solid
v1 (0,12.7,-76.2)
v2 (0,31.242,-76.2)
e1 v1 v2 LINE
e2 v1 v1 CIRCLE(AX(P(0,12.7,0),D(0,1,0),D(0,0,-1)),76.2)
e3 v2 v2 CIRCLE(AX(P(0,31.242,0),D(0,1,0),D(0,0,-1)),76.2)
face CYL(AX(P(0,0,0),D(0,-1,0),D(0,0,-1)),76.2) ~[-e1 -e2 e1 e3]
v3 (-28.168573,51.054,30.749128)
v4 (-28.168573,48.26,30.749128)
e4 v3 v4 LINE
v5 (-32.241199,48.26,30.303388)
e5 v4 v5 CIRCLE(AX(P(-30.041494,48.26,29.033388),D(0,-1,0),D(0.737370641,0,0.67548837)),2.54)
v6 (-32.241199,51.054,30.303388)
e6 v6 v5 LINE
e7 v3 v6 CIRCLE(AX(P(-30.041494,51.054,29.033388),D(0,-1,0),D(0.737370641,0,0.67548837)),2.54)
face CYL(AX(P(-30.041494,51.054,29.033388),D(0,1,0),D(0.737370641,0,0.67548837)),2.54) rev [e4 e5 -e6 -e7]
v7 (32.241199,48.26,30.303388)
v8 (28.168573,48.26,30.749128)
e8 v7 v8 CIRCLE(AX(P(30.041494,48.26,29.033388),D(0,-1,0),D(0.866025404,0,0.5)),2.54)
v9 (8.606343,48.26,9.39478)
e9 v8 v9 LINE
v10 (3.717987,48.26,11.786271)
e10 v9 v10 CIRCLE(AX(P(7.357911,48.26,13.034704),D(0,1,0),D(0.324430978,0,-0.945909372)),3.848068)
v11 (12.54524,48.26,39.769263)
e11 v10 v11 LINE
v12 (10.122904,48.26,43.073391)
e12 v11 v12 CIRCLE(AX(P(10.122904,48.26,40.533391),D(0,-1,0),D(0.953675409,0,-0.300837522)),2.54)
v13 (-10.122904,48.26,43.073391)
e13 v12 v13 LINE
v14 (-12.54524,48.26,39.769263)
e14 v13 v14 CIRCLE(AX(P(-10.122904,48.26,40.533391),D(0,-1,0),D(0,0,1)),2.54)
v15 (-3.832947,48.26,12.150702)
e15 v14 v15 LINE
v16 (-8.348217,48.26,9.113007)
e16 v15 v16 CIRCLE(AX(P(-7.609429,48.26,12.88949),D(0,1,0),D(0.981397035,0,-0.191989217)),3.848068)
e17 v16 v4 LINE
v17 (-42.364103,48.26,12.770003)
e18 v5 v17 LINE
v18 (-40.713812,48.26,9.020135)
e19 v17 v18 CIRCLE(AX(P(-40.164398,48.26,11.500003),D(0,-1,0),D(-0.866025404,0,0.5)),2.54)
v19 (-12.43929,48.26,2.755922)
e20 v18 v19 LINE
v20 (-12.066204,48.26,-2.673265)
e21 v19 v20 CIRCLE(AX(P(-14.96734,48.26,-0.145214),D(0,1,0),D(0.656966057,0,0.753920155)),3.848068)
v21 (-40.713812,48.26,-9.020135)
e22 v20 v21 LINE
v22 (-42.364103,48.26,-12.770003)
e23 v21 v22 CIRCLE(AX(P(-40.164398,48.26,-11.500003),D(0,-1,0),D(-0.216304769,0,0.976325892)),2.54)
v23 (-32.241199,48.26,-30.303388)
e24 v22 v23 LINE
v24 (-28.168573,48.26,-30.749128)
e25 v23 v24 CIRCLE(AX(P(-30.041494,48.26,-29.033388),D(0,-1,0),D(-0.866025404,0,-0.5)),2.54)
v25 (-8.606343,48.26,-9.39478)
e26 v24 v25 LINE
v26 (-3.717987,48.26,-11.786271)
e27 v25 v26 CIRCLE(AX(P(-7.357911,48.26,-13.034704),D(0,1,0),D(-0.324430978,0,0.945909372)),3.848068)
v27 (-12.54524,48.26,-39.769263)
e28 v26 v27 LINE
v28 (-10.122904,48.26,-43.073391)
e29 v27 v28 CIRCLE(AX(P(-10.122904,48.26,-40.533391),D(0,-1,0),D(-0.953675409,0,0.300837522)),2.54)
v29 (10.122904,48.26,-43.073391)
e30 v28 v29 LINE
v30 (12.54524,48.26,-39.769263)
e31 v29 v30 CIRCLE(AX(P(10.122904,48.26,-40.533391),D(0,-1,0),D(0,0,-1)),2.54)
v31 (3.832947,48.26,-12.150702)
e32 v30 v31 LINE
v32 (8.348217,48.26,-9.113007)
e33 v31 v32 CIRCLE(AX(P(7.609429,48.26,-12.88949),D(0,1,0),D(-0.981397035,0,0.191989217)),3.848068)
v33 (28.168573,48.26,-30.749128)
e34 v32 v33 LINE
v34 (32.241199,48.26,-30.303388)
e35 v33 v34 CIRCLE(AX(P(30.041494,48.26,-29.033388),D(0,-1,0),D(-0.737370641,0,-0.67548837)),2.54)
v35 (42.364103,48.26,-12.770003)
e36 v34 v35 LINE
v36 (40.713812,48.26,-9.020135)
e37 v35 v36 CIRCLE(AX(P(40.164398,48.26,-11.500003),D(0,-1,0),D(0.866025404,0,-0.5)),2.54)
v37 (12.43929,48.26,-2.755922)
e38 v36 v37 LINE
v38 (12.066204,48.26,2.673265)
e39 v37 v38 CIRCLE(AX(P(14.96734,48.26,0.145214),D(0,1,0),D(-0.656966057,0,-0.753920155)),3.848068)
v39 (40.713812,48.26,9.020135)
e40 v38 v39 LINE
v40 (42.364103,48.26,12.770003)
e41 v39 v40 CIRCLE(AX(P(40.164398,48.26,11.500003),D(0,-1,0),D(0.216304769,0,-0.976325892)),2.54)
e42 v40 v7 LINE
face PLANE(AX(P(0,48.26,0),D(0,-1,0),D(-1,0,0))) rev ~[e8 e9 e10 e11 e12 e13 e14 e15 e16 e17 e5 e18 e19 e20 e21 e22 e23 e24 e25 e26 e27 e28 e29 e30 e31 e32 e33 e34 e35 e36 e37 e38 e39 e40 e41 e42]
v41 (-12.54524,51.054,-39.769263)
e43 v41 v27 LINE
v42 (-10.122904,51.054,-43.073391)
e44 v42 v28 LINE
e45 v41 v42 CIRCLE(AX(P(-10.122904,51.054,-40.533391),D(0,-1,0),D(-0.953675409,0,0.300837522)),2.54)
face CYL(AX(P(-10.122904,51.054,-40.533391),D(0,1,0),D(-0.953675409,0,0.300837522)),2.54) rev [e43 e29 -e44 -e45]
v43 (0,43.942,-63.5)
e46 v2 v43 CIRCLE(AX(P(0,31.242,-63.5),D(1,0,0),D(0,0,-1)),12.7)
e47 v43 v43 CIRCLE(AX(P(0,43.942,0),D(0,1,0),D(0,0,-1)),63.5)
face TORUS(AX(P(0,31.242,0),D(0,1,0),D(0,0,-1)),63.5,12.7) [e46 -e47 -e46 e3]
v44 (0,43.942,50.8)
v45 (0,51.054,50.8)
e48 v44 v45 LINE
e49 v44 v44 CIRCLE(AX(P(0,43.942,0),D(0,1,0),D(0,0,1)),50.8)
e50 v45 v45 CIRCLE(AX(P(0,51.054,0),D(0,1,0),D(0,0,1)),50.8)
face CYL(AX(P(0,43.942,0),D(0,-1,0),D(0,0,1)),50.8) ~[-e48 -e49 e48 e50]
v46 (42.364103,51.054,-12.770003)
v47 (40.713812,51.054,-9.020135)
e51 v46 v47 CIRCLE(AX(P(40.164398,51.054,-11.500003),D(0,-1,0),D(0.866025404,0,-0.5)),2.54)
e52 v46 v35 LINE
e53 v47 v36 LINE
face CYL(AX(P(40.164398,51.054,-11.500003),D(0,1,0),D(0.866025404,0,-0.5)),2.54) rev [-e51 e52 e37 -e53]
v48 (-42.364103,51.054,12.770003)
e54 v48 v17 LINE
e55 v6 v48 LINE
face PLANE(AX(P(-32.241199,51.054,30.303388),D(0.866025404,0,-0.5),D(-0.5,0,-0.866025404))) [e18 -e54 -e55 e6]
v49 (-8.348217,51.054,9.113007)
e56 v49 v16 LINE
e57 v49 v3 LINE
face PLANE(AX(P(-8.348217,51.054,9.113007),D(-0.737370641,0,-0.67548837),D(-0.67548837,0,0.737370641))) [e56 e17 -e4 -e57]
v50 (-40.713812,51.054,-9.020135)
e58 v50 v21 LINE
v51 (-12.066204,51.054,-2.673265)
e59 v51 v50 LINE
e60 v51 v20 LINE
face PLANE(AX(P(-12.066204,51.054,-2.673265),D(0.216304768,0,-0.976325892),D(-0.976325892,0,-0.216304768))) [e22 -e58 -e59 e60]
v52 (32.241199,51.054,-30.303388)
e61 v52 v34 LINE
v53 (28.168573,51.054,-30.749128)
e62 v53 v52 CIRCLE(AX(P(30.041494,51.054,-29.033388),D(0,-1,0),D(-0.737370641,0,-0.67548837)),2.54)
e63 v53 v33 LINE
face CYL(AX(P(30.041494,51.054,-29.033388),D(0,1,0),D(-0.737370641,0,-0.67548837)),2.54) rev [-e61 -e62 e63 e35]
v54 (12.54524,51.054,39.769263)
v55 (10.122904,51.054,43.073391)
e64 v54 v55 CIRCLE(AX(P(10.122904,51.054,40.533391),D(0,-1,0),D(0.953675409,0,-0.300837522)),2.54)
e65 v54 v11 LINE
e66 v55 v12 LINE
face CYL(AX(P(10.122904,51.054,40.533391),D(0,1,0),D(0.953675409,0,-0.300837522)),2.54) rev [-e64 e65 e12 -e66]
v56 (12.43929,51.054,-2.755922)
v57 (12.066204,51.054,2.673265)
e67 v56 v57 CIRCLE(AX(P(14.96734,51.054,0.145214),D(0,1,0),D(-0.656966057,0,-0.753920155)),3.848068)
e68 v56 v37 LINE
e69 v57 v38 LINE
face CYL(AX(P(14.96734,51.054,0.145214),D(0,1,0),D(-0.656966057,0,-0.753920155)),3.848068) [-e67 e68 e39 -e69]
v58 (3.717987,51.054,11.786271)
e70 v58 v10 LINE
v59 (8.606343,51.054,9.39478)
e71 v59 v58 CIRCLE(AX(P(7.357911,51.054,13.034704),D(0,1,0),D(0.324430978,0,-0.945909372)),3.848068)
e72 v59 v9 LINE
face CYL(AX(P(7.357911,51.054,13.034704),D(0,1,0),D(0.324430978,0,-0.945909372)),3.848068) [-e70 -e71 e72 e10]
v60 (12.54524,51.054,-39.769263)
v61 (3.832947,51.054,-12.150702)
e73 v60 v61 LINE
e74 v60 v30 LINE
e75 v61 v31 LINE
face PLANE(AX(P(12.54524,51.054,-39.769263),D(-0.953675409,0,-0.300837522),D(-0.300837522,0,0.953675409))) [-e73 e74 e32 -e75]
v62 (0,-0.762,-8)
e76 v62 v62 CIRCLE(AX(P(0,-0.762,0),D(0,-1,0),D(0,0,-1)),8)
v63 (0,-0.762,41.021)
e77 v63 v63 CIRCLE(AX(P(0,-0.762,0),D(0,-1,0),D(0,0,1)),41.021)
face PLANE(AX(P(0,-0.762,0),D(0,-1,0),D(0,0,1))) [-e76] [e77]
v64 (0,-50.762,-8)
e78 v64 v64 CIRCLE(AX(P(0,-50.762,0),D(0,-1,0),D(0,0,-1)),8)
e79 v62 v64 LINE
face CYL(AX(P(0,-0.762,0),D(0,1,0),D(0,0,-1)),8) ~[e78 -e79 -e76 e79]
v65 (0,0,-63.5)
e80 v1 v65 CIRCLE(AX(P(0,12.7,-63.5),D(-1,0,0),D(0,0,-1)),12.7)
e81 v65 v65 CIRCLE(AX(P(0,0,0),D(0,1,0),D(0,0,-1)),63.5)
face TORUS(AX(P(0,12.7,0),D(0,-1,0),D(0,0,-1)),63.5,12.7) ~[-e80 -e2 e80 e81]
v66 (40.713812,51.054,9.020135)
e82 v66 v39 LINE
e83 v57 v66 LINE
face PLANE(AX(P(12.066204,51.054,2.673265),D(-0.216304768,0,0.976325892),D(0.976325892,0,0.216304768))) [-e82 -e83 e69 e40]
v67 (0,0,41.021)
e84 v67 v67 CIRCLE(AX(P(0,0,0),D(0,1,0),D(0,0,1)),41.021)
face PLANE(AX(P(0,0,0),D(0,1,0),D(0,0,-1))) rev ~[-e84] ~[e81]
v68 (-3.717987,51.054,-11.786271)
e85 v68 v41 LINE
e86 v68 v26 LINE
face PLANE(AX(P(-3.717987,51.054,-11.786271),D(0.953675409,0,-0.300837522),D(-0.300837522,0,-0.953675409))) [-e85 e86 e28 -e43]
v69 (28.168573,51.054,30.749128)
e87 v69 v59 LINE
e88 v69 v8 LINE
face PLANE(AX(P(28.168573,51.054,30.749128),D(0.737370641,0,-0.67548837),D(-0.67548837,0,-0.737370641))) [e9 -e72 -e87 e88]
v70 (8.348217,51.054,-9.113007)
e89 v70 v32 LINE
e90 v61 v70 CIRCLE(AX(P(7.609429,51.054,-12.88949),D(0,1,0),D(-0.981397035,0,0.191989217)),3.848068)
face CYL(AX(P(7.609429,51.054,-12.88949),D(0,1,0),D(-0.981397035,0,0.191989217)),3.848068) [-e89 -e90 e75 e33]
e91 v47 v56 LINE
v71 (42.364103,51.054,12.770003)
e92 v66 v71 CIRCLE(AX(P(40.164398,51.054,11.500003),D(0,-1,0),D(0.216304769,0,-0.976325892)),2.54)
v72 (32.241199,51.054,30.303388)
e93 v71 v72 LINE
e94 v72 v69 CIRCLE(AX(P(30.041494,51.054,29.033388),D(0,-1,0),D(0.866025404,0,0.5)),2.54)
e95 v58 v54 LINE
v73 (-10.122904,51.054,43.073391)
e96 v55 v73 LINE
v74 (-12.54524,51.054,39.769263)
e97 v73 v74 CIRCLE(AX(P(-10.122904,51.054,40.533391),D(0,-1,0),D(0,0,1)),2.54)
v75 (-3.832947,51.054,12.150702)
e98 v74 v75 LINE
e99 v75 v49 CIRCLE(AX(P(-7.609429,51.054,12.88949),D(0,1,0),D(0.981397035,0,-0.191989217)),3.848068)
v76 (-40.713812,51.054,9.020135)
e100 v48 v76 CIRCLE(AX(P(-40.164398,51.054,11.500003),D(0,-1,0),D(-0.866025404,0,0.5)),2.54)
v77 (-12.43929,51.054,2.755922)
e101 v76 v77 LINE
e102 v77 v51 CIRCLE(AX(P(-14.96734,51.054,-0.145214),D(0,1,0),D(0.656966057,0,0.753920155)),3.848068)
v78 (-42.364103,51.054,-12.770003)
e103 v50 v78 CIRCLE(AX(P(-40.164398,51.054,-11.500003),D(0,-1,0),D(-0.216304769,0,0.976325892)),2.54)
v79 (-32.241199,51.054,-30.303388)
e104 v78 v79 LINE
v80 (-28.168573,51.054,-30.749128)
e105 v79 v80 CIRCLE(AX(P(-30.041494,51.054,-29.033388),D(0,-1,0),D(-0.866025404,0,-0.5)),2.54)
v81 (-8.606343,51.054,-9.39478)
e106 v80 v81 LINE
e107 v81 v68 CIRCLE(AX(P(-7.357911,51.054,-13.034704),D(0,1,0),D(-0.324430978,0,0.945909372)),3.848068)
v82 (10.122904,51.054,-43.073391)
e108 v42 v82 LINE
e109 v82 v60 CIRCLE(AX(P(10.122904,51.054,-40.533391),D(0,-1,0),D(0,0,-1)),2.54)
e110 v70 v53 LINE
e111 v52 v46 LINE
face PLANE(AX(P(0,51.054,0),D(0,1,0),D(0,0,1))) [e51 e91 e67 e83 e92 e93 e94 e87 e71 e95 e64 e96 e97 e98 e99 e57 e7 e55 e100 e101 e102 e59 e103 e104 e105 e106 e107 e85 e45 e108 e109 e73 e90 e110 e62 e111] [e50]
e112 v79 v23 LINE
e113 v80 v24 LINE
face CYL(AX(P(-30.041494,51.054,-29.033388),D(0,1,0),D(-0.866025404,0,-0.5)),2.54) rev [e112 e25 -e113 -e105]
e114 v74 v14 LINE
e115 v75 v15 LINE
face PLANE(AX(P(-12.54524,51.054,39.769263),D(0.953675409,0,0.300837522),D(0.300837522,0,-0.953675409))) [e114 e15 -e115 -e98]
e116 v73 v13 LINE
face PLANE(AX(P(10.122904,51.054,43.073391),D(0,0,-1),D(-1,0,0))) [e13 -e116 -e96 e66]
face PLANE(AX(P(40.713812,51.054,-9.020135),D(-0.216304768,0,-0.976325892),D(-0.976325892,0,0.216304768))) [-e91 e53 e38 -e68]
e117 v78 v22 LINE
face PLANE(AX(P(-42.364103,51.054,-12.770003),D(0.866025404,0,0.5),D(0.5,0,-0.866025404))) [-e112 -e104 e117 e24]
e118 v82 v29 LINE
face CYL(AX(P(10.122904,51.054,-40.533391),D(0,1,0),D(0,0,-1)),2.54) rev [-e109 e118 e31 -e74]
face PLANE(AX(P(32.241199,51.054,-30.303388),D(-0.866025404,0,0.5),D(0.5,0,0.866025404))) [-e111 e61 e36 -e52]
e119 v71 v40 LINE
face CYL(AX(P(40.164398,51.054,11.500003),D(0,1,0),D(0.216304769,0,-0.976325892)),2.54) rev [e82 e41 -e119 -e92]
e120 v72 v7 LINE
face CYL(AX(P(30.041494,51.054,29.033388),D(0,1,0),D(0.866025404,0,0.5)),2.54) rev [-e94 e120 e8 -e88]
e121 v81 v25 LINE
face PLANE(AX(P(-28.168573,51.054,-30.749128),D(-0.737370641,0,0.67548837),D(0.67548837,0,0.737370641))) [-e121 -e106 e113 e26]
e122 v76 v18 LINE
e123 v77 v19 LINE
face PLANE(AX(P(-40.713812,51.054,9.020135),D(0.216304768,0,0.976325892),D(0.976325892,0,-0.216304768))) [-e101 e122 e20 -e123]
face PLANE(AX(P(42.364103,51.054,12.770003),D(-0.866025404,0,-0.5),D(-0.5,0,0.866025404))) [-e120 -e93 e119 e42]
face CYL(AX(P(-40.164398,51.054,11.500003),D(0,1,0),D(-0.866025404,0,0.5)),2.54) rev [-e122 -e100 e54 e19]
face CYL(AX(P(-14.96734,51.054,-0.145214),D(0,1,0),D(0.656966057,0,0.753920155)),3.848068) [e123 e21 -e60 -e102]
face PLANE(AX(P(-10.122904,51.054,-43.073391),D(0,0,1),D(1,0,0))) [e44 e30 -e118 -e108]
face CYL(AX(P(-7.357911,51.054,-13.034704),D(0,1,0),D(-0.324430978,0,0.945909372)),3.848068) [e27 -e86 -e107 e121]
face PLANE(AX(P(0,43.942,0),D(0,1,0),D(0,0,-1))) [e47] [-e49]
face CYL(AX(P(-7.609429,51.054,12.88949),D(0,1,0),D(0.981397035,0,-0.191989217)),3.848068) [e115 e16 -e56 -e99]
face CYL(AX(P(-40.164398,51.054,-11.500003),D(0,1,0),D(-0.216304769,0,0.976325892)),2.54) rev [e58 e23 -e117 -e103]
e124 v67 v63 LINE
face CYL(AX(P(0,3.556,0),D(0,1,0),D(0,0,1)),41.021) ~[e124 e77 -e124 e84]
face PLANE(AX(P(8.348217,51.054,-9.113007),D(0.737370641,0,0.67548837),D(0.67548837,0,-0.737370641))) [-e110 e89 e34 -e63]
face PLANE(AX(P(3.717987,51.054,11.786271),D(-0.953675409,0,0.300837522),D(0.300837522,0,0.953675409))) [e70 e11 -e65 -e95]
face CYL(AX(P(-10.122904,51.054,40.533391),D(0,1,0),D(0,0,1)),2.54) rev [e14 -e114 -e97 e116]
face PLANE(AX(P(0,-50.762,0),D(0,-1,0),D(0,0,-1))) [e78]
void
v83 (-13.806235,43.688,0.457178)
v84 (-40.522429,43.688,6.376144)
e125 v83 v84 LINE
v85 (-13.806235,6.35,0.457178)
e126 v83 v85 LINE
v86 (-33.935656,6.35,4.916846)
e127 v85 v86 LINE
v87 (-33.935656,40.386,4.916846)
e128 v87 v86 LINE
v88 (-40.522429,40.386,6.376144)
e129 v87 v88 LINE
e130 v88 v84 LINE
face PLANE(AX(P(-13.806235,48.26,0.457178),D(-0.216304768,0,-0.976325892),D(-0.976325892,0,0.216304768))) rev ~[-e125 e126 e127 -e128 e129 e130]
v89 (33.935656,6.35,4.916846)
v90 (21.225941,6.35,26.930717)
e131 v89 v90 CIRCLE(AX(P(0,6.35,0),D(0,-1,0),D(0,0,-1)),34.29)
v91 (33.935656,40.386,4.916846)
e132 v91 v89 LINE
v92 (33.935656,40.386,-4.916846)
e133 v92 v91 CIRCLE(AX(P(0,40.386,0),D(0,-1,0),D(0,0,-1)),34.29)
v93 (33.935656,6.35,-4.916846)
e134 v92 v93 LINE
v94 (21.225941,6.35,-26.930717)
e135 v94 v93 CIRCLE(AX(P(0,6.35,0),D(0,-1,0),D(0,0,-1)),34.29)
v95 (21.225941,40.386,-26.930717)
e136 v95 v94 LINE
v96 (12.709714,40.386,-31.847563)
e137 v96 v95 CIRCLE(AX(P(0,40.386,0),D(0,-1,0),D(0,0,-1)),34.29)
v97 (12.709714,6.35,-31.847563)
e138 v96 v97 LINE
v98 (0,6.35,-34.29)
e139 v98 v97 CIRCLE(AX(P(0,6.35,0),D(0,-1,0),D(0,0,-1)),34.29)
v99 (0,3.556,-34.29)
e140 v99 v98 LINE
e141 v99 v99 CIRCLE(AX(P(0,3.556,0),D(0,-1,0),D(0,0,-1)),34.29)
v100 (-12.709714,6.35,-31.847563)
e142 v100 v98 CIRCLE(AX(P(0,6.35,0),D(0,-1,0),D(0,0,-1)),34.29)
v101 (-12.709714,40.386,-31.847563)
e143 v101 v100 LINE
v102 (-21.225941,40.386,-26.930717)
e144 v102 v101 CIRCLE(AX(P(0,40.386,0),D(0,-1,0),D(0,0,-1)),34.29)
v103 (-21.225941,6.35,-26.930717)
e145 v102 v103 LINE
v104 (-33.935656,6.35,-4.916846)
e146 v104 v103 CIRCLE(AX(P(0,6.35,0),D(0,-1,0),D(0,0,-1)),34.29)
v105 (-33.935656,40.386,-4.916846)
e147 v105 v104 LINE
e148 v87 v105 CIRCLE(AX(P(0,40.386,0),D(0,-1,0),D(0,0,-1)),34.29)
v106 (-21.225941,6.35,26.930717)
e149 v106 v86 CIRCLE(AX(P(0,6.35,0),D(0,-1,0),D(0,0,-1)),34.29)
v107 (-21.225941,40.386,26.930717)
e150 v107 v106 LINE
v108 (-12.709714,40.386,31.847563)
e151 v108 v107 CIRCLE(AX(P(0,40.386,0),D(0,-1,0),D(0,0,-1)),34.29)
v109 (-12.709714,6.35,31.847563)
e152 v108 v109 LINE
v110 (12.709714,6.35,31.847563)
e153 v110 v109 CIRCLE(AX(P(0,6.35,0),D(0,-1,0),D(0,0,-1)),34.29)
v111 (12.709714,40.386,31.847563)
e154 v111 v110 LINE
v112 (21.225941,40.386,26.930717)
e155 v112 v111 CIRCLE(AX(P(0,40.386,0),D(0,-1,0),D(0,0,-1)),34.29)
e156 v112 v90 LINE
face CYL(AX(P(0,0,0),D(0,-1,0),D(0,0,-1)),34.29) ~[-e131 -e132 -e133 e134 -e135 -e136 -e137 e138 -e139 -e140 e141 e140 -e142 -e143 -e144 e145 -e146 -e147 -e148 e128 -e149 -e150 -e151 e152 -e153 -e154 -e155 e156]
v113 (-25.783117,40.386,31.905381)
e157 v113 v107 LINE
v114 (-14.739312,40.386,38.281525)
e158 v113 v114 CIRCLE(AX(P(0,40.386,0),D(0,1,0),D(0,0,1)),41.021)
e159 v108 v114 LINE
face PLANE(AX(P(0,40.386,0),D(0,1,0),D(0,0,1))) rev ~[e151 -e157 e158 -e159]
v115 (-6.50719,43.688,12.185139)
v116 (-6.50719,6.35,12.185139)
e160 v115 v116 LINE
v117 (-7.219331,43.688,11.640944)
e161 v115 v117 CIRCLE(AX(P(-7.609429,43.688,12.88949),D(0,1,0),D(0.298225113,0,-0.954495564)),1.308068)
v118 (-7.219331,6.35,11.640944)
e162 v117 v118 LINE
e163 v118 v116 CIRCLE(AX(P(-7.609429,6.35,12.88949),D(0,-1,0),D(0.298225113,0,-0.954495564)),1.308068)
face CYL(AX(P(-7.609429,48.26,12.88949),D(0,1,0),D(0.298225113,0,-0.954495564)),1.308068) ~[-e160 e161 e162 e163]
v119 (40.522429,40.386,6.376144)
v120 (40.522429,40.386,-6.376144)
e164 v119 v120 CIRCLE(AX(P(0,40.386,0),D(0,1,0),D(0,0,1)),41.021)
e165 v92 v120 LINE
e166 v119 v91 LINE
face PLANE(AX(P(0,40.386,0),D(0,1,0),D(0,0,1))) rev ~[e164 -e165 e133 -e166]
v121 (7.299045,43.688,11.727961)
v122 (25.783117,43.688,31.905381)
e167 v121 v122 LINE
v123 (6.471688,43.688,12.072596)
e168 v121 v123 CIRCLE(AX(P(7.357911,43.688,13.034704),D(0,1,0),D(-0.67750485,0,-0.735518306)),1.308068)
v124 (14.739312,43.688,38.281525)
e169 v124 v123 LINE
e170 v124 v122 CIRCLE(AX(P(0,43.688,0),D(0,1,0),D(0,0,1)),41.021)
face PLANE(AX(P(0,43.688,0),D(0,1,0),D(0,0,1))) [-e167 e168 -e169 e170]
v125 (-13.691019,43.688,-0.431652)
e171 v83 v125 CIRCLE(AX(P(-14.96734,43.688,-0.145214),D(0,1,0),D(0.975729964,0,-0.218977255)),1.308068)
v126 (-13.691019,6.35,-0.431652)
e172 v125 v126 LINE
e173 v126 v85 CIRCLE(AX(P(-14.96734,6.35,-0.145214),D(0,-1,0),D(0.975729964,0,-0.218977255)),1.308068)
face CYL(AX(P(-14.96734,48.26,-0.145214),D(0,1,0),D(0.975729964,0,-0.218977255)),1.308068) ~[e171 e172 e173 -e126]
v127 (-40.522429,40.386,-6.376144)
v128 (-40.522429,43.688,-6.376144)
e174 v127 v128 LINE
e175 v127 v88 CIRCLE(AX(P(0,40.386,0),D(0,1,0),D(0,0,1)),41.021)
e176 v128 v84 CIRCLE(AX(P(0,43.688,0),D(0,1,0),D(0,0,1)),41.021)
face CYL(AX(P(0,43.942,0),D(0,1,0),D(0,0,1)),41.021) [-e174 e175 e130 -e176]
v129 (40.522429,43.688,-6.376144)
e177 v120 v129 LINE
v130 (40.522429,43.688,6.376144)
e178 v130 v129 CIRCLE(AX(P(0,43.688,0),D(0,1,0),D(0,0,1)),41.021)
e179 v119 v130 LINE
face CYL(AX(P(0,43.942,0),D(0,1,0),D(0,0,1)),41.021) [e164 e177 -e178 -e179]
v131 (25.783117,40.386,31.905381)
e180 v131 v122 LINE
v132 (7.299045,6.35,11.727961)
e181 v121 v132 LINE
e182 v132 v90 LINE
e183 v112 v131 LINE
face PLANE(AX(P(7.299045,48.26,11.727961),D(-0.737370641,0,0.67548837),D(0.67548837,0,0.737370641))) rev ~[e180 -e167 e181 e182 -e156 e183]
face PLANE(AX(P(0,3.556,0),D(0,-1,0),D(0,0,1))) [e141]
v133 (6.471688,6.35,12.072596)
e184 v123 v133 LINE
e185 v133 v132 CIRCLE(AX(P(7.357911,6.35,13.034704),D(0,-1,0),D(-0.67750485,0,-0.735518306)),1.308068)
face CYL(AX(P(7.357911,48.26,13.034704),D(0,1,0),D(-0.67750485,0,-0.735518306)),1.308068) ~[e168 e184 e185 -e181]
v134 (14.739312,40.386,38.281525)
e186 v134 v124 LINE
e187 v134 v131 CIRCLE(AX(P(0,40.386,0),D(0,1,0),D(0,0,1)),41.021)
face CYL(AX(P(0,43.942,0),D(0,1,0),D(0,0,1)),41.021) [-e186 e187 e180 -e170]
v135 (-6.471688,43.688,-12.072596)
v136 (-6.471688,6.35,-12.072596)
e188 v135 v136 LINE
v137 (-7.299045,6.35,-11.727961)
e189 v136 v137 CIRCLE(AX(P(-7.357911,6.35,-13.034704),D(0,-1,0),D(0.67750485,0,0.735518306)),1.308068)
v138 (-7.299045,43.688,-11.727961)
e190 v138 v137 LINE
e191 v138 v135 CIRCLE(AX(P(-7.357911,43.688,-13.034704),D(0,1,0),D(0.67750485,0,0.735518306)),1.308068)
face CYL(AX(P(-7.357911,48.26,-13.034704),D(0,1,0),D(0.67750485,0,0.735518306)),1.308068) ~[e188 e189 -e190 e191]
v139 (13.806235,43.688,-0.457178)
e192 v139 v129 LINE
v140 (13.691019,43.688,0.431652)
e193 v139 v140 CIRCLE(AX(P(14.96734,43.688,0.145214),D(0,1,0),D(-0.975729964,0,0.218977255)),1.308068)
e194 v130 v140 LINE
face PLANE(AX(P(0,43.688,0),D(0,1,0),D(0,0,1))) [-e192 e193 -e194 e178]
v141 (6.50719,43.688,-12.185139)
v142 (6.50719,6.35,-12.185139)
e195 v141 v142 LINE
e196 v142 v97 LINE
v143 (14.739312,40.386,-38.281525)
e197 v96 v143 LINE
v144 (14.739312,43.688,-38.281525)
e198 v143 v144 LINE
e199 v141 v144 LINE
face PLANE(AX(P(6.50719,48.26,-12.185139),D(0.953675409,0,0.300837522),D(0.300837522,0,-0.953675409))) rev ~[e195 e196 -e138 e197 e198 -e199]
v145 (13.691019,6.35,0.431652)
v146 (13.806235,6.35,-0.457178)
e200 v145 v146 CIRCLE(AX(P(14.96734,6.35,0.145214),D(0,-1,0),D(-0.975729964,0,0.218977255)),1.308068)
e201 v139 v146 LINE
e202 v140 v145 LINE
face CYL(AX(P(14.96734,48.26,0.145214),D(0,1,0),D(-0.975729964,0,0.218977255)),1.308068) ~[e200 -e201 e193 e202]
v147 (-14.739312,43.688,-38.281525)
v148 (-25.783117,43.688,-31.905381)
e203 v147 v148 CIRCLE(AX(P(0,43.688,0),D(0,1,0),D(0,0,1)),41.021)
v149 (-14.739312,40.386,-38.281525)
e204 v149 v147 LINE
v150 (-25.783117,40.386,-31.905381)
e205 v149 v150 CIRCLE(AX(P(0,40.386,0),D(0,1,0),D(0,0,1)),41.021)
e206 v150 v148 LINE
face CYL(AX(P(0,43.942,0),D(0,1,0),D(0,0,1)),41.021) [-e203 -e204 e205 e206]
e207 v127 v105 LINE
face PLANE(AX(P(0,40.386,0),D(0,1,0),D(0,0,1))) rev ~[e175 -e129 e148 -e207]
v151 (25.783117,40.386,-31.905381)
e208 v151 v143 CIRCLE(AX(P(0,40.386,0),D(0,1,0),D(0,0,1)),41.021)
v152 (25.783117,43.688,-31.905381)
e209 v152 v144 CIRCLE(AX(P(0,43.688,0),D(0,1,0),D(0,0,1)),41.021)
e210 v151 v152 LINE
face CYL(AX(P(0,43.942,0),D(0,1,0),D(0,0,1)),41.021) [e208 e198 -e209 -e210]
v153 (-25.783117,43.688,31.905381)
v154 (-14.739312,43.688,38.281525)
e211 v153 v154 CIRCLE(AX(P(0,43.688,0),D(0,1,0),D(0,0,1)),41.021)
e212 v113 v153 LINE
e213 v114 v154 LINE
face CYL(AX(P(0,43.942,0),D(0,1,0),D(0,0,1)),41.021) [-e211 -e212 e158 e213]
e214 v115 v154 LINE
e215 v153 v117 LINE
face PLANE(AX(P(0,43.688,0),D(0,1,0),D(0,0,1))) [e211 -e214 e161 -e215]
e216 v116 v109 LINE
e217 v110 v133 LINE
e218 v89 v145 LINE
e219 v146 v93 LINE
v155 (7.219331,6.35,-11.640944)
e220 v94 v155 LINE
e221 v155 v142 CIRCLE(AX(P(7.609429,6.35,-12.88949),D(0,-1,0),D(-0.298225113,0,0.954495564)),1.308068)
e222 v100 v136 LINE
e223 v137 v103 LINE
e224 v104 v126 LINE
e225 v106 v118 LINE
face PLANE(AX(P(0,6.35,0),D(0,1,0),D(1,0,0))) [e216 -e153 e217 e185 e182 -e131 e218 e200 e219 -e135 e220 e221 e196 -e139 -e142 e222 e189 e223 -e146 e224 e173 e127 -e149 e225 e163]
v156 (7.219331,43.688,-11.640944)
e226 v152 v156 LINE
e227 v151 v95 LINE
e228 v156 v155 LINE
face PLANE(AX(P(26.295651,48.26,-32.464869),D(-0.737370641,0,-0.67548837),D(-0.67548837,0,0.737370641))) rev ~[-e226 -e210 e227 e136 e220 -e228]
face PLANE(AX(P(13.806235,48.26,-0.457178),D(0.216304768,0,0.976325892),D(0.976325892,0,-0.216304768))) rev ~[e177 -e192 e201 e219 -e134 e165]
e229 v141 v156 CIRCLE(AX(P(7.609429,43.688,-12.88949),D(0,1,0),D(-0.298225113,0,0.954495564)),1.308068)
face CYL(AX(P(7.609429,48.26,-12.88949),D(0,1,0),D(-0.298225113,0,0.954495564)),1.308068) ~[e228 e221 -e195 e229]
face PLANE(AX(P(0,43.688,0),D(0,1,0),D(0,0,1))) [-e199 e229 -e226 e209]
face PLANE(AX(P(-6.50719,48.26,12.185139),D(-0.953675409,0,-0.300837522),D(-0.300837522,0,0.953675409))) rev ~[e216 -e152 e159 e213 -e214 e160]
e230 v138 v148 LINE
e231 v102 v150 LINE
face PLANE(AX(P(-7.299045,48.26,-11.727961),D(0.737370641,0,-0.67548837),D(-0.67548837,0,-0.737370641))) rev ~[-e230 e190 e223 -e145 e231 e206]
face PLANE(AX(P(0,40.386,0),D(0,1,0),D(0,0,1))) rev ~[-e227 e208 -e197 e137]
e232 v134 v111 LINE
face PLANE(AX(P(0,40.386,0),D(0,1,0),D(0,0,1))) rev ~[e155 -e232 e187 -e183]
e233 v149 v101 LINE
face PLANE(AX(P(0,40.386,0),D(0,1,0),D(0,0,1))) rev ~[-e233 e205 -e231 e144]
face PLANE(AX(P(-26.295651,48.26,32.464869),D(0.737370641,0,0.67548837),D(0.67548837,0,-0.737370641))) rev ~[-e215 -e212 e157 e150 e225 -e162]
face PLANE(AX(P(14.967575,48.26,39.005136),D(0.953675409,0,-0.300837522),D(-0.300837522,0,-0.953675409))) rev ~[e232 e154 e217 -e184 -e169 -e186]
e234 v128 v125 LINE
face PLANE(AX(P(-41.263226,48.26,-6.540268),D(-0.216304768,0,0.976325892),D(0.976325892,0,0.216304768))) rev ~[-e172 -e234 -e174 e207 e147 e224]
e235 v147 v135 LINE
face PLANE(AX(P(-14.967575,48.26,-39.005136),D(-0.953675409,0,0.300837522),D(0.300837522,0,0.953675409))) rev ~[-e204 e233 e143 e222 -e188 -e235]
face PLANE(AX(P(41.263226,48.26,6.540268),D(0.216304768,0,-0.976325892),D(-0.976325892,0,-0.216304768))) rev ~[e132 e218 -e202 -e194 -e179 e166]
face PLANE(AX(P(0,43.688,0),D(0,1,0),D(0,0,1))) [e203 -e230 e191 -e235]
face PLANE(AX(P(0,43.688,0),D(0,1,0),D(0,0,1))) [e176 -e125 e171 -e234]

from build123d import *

# Parameters (mm, degrees)
SKETCH3_R           = 76.2
SKETCH3_R_2         = 34.29
BOSS_EXTRUDE1_DEPTH = 43.942
SKETCH4_R           = 41.021
CUT_EXTRUDE1_DEPTH  = 3.556
FILLET1_R           = 12.7
SKETCH5_R           = 50.8
BOSS_EXTRUDE2_DEPTH = 7.112
SKETCH7_R           = 44.45
BOSS_EXTRUDE3_DEPTH = 7.366
CUT_EXTRUDE2_DEPTH  = 2.794
BOSS_EXTRUDE5_DEPTH = 41.91
SKETCH11_R          = 41.021
BOSS_EXTRUDE6_DEPTH = 4.318
SKETCH12_R          = 8
BOSS_EXTRUDE7_DEPTH = 50


with BuildPart() as part:
    # Sketch3 → Boss-Extrude1 (new body)
    with BuildSketch(Plane(origin=(0, 0, 0), x_dir=(1, 0, 0), z_dir=(0, 1, 0))):
        with Locations(Location((0, 0, 0), (0, 0, 90))):
            Circle(SKETCH3_R)
        with Locations(Location((0, 0, 0), (0, 0, 90))):
            Circle(SKETCH3_R_2, mode=Mode.SUBTRACT)
    extrude(amount=BOSS_EXTRUDE1_DEPTH)

    # Sketch4 → Cut-Extrude1 (cut)
    with BuildSketch(Plane(origin=(0, 43.942, 0), x_dir=(1, 0, 0), z_dir=(0, 1, 0))):
        with Locations(Location((0, 0, 0), (0, 0, 270))):
            Circle(SKETCH4_R)
    cut_extrude1 = extrude(amount=-CUT_EXTRUDE1_DEPTH, mode=Mode.SUBTRACT)

    # Mirror1: Cut-Extrude1 across plane
    add(cut_extrude1.mirror(Plane.ZX.offset(21.971)), mode=Mode.SUBTRACT)

    # Fillet1
    fillet1_edges = [part.edges().sort_by_distance(p)[0] for p in [
        (0, 0, 76.2),
        (0, 43.942, 76.2),
    ]]
    fillet(fillet1_edges, radius=FILLET1_R)



with BuildPart() as body_2:
    # Sketch5 → Boss-Extrude2 (new body)
    with BuildSketch(Plane(origin=(0, 43.942, 0), x_dir=(1, 0, 0), z_dir=(0, 1, 0))):
        with Locations(Location((0, 0, 0), (0, 0, 270))):
            Circle(SKETCH5_R)
    extrude(amount=BOSS_EXTRUDE2_DEPTH)

    # Sketch7 → Boss-Extrude3 (add)
    with BuildSketch(Plane(origin=(0, 51.054, 0), x_dir=(1, 0, 0), z_dir=(0, 1, 0))):
        with Locations(Location((0, 0, 0), (0, 0, 270))):
            Circle(SKETCH7_R)
    extrude(amount=-BOSS_EXTRUDE3_DEPTH)

    # Sketch8 → Cut-Extrude2 (cut)
    with BuildSketch(Plane(origin=(0, 51.054, 0), x_dir=(1, 0, 0), z_dir=(0, 1, 0))):
        with BuildLine():
            Line((-3.717986915, 11.786271444), (-12.545239758, 39.769263451))
            ThreePointArc((-12.545239758, 39.769263451), (-12.171377231, 42.035175802), (-10.12290422, 43.073390757))
            Line((-10.12290422, 43.073390757), (10.12290422, 43.073390757))
            ThreePointArc((10.12290422, 43.073390757), (12.171377231, 42.035175802), (12.545239758, 39.769263451))
            Line((12.545239758, 39.769263451), (3.832946747, 12.150701932))
            ThreePointArc((3.832946747, 12.150701932), (5.461454635, 9.696711292), (8.348217029, 9.113006841))
            Line((8.348217029, 9.113006841), (28.16857256, 30.749128053))
            ThreePointArc((28.16857256, 30.749128053), (30.317841482, 31.558309782), (32.241198512, 30.303387593))
            Line((32.241198512, 30.303387593), (42.364102732, 12.770003164))
            ThreePointArc((42.364102732, 12.770003164), (42.489218712, 10.47686602), (40.713812318, 9.020135398))
            Line((40.713812318, 9.020135398), (12.43928992, 2.755921712))
            ThreePointArc((12.43928992, 2.755921712), (11.12832563, 0.11859719), (12.066203944, -2.673264603))
            Line((12.066203944, -2.673264603), (40.713812318, -9.020135398))
            ThreePointArc((40.713812318, -9.020135398), (42.489218712, -10.47686602), (42.364102732, -12.770003164))
            Line((42.364102732, -12.770003164), (32.241198512, -30.303387593))
            ThreePointArc((32.241198512, -30.303387593), (30.317841482, -31.558309782), (28.16857256, -30.749128053))
            Line((28.16857256, -30.749128053), (8.606343173, -9.39478022))
            ThreePointArc((8.606343173, -9.39478022), (5.666870994, -9.578114102), (3.717986915, -11.786271444))
            Line((3.717986915, -11.786271444), (12.545239758, -39.769263451))
            ThreePointArc((12.545239758, -39.769263451), (12.171377231, -42.035175802), (10.12290422, -43.073390757))
            Line((10.12290422, -43.073390757), (-10.12290422, -43.073390757))
            ThreePointArc((-10.12290422, -43.073390757), (-12.171377231, -42.035175802), (-12.545239758, -39.769263451))
            Line((-12.545239758, -39.769263451), (-3.832946747, -12.150701932))
            ThreePointArc((-3.832946747, -12.150701932), (-5.461454635, -9.696711292), (-8.348217029, -9.113006841))
            Line((-8.348217029, -9.113006841), (-28.16857256, -30.749128053))
            ThreePointArc((-28.16857256, -30.749128053), (-30.317841482, -31.558309782), (-32.241198512, -30.303387593))
            Line((-32.241198512, -30.303387593), (-42.364102732, -12.770003164))
            ThreePointArc((-42.364102732, -12.770003164), (-42.489218712, -10.47686602), (-40.713812318, -9.020135398))
            Line((-40.713812318, -9.020135398), (-12.43928992, -2.755921712))
            ThreePointArc((-12.43928992, -2.755921712), (-11.12832563, -0.11859719), (-12.066203944, 2.673264603))
            Line((-12.066203944, 2.673264603), (-40.713812318, 9.020135398))
            ThreePointArc((-40.713812318, 9.020135398), (-42.489218712, 10.47686602), (-42.364102732, 12.770003164))
            Line((-42.364102732, 12.770003164), (-32.241198512, 30.303387593))
            ThreePointArc((-32.241198512, 30.303387593), (-30.317841482, 31.558309782), (-28.16857256, 30.749128053))
            Line((-28.16857256, 30.749128053), (-8.606343173, 9.39478022))
            ThreePointArc((-8.606343173, 9.39478022), (-5.666870994, 9.578114102), (-3.717986915, 11.786271444))
        make_face()
    extrude(amount=-CUT_EXTRUDE2_DEPTH, mode=Mode.SUBTRACT)


with BuildPart() as part_1:
    add(part.part)

    add(body_2.part)  # Boss-Extrude5 merges body 2
    # Sketch10 → Boss-Extrude5 (add)
    with BuildSketch(Plane(origin=(0, 48.26, 0), x_dir=(1, 0, 0), z_dir=(0, 1, 0))):
        with BuildLine():
            Line((10.12290422, 45.613390757), (-10.12290422, 45.613390757))
            ThreePointArc((-10.12290422, 45.613390757), (-14.219850242, 43.536960847), (-14.967575297, 39.005136146))
            Line((-14.967575297, 39.005136146), (-6.471688132, 12.072595881))
            ThreePointArc((-6.471688132, 12.072595881), (-6.854928199, 11.827206148), (-7.29904471, 11.727961017))
            Line((-7.29904471, 11.727961017), (-26.295651132, 32.464868513))
            ThreePointArc((-26.295651132, 32.464868513), (-30.594188976, 34.083231971), (-34.440903038, 31.573387593))
            Line((-34.440903038, 31.573387593), (-44.563807258, 14.040003164))
            ThreePointArc((-44.563807258, 14.040003164), (-44.814039218, 9.453728876), (-41.263226429, 6.540267633))
            Line((-41.263226429, 6.540267633), (-13.691018788, 0.431651613))
            ThreePointArc((-13.691018788, 0.431651613), (-13.67012508, -0.022938888), (-13.80623453, -0.457177633))
            Line((-13.80623453, -0.457177633), (-41.263226429, -6.540267633))
            ThreePointArc((-41.263226429, -6.540267633), (-44.814039218, -9.453728876), (-44.563807258, -14.040003164))
            Line((-44.563807258, -14.040003164), (-34.440903038, -31.573387593))
            ThreePointArc((-34.440903038, -31.573387593), (-30.594188976, -34.083231971), (-26.295651132, -32.464868513))
            Line((-26.295651132, -32.464868513), (-7.219330657, -11.640944268))
            ThreePointArc((-7.219330657, -11.640944268), (-6.81519688, -11.850145036), (-6.507189821, -12.185138651))
            Line((-6.507189821, -12.185138651), (-14.967575297, -39.005136146))
            ThreePointArc((-14.967575297, -39.005136146), (-14.219850242, -43.536960847), (-10.12290422, -45.613390757))
            Line((-10.12290422, -45.613390757), (10.12290422, -45.613390757))
            ThreePointArc((10.12290422, -45.613390757), (14.219850242, -43.536960847), (14.967575297, -39.005136146))
            Line((14.967575297, -39.005136146), (6.471688132, -12.072595881))
            ThreePointArc((6.471688132, -12.072595881), (6.854928199, -11.827206148), (7.29904471, -11.727961017))
            Line((7.29904471, -11.727961017), (26.295651132, -32.464868513))
            ThreePointArc((26.295651132, -32.464868513), (30.594188976, -34.083231971), (34.440903038, -31.573387593))
            Line((34.440903038, -31.573387593), (44.563807258, -14.040003164))
            ThreePointArc((44.563807258, -14.040003164), (44.814039218, -9.453728876), (41.263226429, -6.540267633))
            Line((41.263226429, -6.540267633), (13.691018788, -0.431651613))
            ThreePointArc((13.691018788, -0.431651613), (13.67012508, 0.022938888), (13.80623453, 0.457177633))
            Line((13.80623453, 0.457177633), (41.263226429, 6.540267633))
            ThreePointArc((41.263226429, 6.540267633), (44.814039218, 9.453728876), (44.563807258, 14.040003164))
            Line((44.563807258, 14.040003164), (34.440903038, 31.573387593))
            ThreePointArc((34.440903038, 31.573387593), (30.594188976, 34.083231971), (26.295651132, 32.464868513))
            Line((26.295651132, 32.464868513), (7.219330657, 11.640944268))
            ThreePointArc((7.219330657, 11.640944268), (6.81519688, 11.850145036), (6.507189821, 12.185138651))
            Line((6.507189821, 12.185138651), (14.967575297, 39.005136146))
            ThreePointArc((14.967575297, 39.005136146), (14.219850242, 43.536960847), (10.12290422, 45.613390757))
        make_face()
    extrude(amount=-BOSS_EXTRUDE5_DEPTH)

    # Sketch11 → Boss-Extrude6 (add)
    with BuildSketch(Plane.XZ.offset(-3.556)):
        with Locations(Location((0, 0, 0), (0, 0, 90))):
            Circle(SKETCH11_R)
    extrude(amount=BOSS_EXTRUDE6_DEPTH)

    # Sketch12 → Boss-Extrude7 (add)
    with BuildSketch(Plane.XZ.offset(0.762)):
        with Locations(Location((0, 0, 0), (0, 0, 270))):
            Circle(SKETCH12_R)
    extrude(amount=BOSS_EXTRUDE7_DEPTH)


solid = part_1.part
